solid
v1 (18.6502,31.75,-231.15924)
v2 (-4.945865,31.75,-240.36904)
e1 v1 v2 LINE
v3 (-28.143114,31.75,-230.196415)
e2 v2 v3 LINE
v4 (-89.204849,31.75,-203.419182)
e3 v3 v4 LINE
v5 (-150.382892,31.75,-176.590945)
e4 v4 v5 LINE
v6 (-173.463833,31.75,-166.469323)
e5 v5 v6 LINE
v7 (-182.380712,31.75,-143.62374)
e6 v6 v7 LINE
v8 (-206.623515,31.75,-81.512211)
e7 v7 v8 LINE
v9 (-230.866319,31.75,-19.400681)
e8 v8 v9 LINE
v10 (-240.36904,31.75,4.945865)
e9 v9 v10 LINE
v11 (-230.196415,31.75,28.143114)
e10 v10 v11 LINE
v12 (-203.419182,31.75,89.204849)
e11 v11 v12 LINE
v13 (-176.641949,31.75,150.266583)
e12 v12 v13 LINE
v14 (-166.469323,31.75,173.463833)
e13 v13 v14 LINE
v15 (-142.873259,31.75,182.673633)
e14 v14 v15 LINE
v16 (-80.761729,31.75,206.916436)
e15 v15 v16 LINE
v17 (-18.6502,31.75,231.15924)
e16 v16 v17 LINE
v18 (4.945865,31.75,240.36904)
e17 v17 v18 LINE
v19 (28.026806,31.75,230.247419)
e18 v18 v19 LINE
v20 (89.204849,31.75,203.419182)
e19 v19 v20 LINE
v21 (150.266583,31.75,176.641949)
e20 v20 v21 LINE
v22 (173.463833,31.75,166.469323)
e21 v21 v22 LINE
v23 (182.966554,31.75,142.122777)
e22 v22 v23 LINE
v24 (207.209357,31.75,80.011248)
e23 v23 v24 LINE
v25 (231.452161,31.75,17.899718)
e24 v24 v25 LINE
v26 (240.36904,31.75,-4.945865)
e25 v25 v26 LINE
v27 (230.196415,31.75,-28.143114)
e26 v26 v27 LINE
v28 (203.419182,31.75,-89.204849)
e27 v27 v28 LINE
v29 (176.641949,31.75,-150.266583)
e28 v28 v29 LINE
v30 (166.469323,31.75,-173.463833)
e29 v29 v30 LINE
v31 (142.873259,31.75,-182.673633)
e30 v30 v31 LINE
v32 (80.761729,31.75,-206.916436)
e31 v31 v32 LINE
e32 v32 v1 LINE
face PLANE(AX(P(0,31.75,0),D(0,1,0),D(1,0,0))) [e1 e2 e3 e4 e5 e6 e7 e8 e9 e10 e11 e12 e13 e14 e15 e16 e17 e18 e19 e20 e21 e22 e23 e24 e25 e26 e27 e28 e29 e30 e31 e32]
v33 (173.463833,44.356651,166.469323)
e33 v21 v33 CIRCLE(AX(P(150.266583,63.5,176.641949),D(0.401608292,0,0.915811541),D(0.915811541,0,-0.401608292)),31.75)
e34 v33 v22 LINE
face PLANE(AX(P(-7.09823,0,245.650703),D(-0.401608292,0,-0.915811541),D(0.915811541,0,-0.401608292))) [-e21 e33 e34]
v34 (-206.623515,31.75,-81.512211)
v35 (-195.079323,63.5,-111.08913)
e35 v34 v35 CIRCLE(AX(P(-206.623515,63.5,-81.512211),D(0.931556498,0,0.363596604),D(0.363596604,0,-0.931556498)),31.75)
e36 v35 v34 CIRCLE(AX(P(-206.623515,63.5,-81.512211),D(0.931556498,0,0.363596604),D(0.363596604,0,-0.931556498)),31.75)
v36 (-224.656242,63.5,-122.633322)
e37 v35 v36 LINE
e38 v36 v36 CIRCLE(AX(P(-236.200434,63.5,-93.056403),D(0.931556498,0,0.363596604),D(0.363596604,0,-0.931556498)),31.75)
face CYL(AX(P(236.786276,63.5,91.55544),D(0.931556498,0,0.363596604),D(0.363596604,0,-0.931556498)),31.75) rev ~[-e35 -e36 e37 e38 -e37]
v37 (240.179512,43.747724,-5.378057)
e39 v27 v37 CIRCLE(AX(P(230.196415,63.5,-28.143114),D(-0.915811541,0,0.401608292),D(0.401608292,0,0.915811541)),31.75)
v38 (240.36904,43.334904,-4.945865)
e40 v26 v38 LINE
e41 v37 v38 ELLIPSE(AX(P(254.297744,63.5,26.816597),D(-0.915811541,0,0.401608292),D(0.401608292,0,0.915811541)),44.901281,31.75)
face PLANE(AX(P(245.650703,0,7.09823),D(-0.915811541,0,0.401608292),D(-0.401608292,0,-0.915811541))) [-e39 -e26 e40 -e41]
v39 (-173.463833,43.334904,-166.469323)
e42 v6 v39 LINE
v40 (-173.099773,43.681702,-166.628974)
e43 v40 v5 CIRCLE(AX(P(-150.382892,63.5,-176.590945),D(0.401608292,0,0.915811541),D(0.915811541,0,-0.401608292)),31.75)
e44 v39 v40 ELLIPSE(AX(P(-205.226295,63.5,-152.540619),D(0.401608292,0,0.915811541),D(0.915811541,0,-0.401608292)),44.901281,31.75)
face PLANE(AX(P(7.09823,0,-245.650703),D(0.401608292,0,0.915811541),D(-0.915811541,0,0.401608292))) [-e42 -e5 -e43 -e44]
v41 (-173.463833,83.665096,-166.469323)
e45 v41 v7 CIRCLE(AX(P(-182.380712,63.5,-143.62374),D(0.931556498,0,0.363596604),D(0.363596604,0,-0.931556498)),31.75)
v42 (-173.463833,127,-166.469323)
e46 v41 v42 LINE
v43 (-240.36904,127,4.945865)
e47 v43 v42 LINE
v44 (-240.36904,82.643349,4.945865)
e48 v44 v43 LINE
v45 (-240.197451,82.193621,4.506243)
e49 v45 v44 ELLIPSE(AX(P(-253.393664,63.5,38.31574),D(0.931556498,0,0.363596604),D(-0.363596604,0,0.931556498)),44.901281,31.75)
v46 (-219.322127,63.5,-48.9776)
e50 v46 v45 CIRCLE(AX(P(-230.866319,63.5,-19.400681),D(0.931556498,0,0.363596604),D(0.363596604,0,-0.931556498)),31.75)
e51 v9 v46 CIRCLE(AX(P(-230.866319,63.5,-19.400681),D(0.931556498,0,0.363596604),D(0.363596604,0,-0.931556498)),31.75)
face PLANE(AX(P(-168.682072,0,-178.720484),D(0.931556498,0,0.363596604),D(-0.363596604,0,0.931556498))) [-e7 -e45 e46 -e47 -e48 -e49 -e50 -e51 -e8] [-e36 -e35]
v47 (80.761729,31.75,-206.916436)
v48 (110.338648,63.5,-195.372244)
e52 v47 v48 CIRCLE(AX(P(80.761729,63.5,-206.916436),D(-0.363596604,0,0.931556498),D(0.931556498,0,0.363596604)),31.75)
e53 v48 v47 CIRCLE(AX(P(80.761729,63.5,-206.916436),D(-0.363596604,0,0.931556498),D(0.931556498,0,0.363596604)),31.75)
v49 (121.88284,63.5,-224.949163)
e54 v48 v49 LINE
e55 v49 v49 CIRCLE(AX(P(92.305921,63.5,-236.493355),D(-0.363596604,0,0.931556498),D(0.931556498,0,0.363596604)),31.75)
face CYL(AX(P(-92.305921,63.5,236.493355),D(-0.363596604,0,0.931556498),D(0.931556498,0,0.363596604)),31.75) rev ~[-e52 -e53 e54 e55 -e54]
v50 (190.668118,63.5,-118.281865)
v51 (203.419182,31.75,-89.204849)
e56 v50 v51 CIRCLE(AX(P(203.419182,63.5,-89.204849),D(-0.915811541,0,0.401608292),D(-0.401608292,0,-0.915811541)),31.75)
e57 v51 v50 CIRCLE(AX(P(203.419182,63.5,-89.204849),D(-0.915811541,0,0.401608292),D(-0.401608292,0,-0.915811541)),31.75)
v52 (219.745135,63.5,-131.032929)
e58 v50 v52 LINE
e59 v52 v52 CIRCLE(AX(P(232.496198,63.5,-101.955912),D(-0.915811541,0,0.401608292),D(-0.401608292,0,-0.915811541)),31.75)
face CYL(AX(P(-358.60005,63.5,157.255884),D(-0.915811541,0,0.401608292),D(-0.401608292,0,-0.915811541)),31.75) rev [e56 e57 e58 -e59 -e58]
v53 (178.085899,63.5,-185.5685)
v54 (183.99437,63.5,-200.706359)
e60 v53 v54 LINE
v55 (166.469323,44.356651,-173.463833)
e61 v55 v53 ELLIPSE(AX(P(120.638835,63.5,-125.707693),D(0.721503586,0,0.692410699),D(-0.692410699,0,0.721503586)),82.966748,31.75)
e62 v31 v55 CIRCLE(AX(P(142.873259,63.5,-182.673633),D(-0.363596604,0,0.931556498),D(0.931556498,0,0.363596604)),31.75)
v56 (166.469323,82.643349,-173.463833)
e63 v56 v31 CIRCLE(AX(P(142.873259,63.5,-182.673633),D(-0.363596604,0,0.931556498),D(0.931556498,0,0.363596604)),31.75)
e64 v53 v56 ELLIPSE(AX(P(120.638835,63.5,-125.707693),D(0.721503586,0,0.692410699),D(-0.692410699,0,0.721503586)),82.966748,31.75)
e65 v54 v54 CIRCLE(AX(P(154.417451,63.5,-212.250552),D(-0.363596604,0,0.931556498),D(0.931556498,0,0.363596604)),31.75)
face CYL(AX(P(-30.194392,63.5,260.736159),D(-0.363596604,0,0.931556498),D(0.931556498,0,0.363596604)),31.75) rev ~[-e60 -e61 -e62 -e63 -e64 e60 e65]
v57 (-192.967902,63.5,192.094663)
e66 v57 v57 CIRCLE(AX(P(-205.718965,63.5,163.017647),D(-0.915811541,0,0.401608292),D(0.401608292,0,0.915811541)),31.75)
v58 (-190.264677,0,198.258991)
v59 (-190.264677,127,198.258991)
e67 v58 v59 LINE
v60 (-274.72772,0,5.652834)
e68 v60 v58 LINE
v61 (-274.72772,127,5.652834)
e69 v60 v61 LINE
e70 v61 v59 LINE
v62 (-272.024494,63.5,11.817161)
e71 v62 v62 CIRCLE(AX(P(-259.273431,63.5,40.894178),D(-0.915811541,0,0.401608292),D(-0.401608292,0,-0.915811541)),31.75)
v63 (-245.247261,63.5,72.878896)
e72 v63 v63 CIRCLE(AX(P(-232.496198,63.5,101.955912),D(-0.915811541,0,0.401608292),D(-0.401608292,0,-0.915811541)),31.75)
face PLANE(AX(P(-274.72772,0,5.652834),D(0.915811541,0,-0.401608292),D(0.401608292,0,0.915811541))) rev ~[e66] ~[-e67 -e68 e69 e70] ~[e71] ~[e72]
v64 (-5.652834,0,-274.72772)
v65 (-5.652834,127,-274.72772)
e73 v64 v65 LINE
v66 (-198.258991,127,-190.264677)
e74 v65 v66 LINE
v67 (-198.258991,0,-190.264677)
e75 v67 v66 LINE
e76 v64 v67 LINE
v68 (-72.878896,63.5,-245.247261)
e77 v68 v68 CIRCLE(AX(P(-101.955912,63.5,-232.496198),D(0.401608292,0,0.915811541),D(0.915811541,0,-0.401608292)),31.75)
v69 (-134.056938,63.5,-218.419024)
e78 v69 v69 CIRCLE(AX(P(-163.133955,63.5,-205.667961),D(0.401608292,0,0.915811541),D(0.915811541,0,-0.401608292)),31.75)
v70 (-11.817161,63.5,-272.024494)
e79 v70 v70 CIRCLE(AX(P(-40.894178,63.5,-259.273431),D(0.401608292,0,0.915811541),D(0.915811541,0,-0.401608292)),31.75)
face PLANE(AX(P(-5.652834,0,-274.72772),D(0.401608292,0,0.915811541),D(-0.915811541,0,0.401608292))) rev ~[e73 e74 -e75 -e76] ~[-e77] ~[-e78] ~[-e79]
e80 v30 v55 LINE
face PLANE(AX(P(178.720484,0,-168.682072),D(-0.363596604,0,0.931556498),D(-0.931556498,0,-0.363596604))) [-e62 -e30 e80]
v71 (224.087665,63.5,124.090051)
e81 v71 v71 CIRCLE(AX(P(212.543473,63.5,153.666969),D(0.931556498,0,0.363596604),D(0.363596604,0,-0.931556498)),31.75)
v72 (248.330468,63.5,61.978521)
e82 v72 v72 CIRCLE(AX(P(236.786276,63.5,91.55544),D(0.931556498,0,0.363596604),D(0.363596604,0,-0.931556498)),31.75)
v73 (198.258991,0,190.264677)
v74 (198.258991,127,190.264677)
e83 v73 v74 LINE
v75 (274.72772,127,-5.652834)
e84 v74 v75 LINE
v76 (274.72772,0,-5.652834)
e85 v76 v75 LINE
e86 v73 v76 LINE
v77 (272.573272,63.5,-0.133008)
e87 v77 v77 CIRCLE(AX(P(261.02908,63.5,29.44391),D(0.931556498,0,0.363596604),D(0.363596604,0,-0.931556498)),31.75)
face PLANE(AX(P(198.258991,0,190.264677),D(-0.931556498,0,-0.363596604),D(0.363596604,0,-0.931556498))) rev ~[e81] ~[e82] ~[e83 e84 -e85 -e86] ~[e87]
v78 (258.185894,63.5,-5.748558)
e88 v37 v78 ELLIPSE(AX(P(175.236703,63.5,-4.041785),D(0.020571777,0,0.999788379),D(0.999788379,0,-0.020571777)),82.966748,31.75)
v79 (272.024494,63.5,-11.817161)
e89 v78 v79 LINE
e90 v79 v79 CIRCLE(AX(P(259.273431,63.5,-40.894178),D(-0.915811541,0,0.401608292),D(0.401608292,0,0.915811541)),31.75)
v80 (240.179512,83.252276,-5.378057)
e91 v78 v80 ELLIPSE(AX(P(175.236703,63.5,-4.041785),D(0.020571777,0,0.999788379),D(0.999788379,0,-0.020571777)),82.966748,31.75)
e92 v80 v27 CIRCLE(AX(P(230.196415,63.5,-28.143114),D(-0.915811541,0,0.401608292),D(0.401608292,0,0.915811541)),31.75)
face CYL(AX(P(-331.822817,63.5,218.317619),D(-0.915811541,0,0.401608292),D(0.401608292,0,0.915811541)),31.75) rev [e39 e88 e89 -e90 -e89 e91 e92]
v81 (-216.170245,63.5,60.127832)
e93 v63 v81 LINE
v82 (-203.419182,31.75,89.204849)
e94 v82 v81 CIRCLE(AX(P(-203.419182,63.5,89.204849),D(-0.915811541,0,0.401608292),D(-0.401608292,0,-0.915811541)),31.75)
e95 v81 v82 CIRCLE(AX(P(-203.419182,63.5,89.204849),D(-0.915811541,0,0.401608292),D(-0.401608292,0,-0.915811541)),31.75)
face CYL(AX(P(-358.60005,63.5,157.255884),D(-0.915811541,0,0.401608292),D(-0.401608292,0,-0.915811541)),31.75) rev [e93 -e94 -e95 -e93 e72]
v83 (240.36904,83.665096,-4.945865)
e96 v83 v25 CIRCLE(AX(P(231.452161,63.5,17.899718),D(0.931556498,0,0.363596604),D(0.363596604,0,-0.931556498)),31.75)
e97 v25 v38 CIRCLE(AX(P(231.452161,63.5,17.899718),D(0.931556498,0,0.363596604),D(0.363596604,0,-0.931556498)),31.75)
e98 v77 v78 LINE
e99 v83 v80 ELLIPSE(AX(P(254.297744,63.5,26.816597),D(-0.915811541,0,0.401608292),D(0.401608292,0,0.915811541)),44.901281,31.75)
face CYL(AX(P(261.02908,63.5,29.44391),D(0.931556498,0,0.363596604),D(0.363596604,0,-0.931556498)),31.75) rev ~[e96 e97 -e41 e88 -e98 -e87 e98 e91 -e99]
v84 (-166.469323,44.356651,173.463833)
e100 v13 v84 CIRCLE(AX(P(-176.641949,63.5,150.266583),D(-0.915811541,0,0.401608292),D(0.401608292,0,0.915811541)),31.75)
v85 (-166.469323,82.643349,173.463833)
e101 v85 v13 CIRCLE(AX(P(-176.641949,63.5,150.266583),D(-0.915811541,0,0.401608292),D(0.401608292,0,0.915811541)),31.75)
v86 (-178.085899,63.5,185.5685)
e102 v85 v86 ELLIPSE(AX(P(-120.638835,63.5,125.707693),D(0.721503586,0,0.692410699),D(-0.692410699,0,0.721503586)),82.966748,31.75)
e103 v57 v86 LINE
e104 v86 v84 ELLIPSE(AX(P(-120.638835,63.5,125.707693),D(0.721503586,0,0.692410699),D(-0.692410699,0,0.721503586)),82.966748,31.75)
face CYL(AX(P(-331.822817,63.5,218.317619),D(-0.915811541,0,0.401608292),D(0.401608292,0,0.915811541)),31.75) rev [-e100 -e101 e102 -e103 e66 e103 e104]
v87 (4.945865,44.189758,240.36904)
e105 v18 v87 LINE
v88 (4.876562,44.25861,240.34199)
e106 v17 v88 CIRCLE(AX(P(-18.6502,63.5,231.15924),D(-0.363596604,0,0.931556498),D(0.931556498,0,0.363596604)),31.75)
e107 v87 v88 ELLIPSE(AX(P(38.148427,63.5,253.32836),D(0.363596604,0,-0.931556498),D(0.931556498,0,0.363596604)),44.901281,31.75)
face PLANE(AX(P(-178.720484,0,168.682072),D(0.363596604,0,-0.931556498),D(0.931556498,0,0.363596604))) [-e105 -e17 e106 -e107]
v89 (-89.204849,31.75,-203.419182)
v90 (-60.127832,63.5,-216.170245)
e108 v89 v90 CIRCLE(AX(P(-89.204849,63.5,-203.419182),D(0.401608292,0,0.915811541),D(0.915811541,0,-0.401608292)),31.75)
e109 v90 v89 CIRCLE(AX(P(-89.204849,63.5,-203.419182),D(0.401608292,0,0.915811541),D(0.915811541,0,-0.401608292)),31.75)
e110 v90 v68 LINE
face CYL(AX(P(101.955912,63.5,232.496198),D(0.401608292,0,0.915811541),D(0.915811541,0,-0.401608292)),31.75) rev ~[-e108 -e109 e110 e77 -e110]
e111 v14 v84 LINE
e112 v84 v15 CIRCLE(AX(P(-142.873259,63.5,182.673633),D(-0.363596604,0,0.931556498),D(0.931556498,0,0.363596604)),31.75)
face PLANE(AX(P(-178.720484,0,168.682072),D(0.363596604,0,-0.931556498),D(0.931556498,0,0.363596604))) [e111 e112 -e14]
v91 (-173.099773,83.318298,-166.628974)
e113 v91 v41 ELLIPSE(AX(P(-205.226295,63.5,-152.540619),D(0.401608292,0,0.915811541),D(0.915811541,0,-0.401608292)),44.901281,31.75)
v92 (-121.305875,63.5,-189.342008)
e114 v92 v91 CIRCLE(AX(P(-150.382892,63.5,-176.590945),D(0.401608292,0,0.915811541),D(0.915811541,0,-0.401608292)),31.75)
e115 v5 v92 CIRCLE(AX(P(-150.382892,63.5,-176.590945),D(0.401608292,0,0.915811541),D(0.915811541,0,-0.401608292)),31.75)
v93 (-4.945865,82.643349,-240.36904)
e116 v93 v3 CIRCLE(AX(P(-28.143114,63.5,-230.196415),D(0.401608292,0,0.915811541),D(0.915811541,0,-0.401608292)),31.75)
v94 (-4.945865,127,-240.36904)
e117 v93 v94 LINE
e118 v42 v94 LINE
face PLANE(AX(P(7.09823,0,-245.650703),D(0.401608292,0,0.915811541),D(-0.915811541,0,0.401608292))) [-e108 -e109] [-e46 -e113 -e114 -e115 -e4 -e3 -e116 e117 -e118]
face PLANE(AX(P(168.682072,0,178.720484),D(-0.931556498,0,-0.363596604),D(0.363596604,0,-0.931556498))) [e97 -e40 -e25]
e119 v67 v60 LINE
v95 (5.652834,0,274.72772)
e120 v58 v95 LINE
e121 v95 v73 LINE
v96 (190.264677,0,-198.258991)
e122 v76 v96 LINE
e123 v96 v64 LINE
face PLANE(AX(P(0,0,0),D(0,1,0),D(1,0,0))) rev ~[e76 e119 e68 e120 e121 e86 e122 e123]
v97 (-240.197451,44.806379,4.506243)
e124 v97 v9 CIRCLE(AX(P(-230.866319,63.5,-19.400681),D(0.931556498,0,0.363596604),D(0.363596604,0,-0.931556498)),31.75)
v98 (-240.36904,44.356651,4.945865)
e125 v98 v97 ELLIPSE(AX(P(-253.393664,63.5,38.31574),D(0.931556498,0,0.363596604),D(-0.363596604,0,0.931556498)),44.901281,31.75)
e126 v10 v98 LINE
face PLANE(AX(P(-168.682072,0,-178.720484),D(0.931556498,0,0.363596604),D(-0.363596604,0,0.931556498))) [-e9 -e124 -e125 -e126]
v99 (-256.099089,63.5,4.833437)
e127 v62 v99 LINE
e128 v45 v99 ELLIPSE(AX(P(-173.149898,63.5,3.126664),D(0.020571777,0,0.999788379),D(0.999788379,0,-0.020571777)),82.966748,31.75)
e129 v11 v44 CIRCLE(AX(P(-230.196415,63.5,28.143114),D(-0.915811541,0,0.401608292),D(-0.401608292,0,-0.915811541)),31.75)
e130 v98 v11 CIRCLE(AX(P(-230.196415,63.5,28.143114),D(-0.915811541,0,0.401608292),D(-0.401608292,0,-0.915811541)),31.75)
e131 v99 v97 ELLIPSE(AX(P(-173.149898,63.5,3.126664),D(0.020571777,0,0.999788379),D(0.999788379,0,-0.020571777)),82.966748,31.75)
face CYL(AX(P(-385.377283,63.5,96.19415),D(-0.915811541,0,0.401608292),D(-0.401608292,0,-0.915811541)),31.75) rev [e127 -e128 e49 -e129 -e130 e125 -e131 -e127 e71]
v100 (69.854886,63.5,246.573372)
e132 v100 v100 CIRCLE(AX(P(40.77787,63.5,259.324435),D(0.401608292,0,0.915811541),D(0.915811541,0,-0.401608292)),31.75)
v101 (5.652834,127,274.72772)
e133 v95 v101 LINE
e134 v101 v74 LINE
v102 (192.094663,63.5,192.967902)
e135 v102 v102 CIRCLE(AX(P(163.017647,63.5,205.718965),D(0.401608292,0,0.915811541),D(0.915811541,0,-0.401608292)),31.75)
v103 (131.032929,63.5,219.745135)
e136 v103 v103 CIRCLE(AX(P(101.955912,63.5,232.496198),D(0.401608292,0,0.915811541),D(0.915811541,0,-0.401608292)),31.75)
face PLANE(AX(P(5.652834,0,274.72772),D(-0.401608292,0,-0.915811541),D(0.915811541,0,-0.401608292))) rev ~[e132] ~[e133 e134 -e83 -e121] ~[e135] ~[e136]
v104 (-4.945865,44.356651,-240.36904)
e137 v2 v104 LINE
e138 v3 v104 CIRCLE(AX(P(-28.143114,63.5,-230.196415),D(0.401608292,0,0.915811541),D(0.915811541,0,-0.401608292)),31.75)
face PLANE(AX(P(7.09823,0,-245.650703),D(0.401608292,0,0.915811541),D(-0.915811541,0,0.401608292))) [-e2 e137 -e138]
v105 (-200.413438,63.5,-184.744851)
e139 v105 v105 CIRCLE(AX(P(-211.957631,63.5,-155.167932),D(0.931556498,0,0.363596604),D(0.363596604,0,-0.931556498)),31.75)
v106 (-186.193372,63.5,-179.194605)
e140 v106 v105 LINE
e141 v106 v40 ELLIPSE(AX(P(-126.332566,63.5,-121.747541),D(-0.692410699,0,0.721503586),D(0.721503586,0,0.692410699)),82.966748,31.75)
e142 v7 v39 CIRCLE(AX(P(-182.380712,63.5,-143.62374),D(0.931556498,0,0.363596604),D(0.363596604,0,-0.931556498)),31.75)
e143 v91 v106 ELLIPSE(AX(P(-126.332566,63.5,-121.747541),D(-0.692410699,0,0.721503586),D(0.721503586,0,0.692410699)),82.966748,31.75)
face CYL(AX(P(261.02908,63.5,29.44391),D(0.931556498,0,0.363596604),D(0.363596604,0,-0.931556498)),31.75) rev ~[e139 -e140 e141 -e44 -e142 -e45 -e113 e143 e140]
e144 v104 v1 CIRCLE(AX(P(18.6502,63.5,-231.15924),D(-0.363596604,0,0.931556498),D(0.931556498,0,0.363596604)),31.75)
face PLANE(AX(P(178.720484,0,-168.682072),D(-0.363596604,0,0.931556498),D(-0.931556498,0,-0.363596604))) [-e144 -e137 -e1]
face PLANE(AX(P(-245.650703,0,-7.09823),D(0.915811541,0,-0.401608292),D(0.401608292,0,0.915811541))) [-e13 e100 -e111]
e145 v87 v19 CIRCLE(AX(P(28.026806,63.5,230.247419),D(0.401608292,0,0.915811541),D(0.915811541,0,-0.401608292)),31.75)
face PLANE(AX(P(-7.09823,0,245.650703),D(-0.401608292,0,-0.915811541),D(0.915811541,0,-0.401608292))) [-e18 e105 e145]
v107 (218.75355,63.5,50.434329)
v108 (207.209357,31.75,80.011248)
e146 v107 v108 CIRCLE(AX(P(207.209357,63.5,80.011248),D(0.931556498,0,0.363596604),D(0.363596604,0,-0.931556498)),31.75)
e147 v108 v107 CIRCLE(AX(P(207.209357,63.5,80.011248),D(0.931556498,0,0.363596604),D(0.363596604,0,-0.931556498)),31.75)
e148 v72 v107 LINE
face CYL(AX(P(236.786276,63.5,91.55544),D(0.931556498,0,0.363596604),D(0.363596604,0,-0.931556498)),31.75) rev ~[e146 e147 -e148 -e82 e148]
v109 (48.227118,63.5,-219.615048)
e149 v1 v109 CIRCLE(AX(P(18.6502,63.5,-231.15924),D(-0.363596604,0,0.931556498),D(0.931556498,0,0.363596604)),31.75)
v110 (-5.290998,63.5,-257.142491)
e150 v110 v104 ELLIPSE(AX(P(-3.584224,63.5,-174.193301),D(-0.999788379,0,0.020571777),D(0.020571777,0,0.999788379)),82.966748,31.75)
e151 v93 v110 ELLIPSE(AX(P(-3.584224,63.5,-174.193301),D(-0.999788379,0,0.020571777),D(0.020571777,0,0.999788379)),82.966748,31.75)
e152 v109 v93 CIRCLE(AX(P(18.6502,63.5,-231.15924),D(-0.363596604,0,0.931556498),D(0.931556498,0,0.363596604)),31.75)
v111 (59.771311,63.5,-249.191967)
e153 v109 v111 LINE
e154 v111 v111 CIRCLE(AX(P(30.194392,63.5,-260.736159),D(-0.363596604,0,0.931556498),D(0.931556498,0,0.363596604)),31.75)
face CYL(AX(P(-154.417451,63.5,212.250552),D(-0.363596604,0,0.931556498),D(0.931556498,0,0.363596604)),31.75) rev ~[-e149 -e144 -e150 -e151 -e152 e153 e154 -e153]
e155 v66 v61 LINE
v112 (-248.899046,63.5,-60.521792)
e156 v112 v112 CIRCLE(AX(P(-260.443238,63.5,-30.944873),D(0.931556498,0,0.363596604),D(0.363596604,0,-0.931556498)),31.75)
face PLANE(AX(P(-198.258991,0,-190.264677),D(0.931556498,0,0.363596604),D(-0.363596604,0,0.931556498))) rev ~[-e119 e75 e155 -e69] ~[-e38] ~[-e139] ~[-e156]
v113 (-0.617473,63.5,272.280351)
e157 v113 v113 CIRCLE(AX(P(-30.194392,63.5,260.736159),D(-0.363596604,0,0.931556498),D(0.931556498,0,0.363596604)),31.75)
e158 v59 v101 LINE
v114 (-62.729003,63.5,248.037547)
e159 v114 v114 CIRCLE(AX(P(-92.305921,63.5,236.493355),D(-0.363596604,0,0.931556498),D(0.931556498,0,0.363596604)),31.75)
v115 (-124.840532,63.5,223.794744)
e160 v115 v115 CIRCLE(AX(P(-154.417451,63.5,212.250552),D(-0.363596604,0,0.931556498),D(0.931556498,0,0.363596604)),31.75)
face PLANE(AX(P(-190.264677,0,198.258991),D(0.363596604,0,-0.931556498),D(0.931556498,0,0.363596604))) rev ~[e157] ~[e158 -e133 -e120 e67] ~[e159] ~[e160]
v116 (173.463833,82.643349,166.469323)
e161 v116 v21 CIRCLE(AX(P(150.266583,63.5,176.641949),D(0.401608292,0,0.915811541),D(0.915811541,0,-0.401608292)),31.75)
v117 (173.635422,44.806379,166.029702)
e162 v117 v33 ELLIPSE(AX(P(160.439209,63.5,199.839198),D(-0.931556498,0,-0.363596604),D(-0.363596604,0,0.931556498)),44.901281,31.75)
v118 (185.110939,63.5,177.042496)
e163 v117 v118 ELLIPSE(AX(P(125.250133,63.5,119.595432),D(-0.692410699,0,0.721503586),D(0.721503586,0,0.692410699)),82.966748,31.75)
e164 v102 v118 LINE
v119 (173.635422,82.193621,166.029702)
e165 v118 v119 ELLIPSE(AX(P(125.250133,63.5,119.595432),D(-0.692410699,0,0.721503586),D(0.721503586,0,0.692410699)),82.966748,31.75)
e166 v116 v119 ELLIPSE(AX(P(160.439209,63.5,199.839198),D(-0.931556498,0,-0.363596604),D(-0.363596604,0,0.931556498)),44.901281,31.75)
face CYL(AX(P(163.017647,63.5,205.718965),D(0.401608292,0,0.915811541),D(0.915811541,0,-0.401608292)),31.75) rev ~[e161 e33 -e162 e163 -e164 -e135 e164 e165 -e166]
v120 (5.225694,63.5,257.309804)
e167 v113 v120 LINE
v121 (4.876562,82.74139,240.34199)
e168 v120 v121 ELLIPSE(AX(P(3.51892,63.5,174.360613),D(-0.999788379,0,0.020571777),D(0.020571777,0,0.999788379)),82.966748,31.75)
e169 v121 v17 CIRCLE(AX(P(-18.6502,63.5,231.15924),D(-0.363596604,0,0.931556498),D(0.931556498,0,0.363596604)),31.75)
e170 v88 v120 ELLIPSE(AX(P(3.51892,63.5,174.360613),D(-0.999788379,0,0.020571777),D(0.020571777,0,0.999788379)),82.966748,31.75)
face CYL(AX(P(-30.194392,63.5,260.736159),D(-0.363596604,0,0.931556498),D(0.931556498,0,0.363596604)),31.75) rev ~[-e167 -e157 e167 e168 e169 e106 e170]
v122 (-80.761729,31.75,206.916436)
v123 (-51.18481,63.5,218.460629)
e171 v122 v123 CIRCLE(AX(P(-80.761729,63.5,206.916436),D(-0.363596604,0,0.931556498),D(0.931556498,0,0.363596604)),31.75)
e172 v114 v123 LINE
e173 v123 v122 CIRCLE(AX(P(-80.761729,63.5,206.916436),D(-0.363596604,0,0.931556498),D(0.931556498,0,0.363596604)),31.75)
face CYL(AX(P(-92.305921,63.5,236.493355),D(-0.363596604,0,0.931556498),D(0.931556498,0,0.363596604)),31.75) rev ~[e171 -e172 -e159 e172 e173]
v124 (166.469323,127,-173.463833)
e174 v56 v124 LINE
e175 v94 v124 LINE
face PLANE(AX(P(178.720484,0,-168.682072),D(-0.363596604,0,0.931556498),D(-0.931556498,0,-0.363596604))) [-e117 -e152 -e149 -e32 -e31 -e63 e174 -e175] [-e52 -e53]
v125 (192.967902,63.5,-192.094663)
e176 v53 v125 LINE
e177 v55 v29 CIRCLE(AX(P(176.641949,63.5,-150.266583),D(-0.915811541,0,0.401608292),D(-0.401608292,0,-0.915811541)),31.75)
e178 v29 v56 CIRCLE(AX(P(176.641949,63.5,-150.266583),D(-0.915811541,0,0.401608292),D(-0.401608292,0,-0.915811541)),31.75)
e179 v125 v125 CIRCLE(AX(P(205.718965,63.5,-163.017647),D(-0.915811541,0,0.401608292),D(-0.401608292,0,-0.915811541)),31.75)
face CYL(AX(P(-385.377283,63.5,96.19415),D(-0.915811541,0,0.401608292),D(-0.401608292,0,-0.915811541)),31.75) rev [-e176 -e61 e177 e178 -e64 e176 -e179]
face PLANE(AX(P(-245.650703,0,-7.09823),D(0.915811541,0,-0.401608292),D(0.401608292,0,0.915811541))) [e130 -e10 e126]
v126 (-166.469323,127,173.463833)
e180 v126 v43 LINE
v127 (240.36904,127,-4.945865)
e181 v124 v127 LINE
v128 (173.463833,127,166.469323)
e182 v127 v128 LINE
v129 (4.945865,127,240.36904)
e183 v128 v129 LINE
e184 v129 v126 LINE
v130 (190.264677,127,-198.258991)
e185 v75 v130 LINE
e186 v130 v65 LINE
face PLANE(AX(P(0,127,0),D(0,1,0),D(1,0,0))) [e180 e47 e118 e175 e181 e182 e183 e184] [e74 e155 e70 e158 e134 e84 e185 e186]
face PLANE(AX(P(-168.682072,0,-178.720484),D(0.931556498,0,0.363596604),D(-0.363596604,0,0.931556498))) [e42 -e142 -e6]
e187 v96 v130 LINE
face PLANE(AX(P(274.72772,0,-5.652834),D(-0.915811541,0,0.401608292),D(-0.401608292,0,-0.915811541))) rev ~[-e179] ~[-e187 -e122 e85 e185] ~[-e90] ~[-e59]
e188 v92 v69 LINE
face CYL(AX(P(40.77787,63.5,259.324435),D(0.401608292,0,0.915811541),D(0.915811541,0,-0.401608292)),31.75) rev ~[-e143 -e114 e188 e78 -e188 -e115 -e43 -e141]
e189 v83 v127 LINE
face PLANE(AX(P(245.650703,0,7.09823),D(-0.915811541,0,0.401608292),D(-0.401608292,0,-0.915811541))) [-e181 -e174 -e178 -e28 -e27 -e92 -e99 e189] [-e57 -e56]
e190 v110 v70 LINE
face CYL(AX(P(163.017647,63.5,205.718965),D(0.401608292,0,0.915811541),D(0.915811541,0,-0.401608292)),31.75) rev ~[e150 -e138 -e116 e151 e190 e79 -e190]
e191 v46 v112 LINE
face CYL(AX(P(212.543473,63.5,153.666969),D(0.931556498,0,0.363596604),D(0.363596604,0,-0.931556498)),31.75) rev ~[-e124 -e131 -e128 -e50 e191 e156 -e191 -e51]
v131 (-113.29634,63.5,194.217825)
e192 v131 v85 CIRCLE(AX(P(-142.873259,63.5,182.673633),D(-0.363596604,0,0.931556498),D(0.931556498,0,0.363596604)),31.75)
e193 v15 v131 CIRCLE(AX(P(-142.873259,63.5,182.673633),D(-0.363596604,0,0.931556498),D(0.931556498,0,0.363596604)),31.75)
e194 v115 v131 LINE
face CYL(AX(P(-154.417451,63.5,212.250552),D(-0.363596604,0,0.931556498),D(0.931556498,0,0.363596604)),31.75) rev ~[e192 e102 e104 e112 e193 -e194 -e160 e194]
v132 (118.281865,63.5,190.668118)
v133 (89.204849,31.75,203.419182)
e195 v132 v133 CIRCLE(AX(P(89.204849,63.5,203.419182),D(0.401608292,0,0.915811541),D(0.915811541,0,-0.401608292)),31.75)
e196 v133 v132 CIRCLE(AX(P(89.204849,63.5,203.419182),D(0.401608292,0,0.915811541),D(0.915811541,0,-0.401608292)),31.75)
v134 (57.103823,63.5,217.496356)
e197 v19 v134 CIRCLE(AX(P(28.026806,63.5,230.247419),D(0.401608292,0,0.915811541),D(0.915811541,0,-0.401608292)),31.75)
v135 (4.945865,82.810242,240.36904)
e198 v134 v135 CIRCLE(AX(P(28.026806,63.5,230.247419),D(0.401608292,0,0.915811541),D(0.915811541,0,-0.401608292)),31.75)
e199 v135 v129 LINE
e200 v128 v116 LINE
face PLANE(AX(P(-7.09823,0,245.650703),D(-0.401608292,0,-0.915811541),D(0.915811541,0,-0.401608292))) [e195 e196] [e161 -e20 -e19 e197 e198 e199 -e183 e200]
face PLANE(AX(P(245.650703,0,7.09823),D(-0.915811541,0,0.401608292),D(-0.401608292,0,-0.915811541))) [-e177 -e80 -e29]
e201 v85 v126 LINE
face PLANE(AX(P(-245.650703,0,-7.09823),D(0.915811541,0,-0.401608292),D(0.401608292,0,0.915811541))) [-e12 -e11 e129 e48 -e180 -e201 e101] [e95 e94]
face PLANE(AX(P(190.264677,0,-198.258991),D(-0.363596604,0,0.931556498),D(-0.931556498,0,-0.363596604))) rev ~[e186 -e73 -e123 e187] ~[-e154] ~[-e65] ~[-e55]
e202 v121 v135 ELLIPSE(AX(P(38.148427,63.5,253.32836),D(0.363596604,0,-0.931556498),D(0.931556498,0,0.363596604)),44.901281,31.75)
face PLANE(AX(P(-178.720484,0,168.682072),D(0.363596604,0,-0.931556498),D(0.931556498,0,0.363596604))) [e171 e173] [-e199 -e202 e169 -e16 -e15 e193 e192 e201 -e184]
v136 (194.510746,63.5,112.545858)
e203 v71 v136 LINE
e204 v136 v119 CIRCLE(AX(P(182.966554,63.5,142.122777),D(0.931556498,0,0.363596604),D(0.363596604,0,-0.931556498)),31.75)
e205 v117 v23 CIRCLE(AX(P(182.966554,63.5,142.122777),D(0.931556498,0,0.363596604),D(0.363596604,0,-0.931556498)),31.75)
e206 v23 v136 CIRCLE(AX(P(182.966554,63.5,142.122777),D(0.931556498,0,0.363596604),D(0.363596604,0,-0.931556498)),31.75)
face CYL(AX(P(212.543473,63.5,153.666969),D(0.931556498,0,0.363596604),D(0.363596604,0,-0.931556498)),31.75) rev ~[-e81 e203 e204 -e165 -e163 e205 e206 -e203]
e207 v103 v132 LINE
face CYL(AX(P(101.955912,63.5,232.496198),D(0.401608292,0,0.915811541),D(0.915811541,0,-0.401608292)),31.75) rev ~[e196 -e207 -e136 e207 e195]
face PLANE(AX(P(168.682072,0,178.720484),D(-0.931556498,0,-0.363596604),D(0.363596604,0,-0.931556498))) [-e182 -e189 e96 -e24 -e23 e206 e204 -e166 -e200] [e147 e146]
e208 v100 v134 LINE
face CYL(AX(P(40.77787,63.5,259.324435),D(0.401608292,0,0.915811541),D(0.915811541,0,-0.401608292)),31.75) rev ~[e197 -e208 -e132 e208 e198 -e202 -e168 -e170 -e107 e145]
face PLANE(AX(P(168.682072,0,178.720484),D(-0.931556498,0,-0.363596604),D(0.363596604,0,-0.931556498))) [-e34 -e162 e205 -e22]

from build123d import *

# Parameters (mm, degrees)
BOSS_EXTRUDE1_DEPTH     = 127
SHELL2_T                = -31.75
SKETCH2_R               = 31.75
CUT_EXTRUDE1_DEPTH      = 643.020000528
SKETCH3_R               = 31.75
CUT_EXTRUDE2_DEPTH      = 645.43437317
SKETCH4_R               = 31.75
CUT_EXTRUDE3_DEPTH      = 643.020000528
CUT_EXTRUDE4_DEPTH      = 645.43437317
CUT_EXTRUDE4_DEPTH_BACK = 645.43437317
SKETCH5_R               = 31.75


with BuildPart() as part:
    # Sketch1 → Boss-Extrude1 (new body)
    with BuildSketch(Plane(origin=(0, 0, 0), x_dir=(1, 0, 0), z_dir=(0, 1, 0))):
        Polygon((198.258990648, -190.264676509), (274.727719698, 5.652833739), (190.264676509, 198.258990648), (-5.652833739, 274.727719698), (-198.258990648, 190.264676509), (-274.727719698, -5.652833739), (-190.264676509, -198.258990648), (5.652833739, -274.727719698), align=None)
    extrude(amount=BOSS_EXTRUDE1_DEPTH)

    # Shell2
    shell2_openings = [part.faces().sort_by_distance(p)[0] for p in [
        (0, 127, 0),
    ]]
    offset(amount=SHELL2_T, openings=shell2_openings, kind=Kind.INTERSECTION)

    # Sketch2 → Cut-Extrude1 (cut, through all)
    with BuildSketch(Plane(origin=(-92.305921385, 0, 236.493355173), x_dir=(0.9315564981895357, 0, 0.36359660433074675), z_dir=(-0.36359660433074675, 0, 0.9315564981895357))):
        with Locations((-66.675, 63.5)):
            Circle(SKETCH2_R)
        with Locations((0, 63.5)):
            Circle(SKETCH2_R)
        with Locations((66.675, 63.5)):
            Circle(SKETCH2_R)
    extrude(amount=-CUT_EXTRUDE1_DEPTH, mode=Mode.SUBTRACT)

    # Sketch3 → Cut-Extrude2 (cut, through all)
    with BuildSketch(Plane(origin=(101.955912193, 0, 232.496198103), x_dir=(0.9158115414668875, 0, -0.4016082923895416), z_dir=(0.4016082923895416, 0, 0.9158115414668875))):
        with Locations((-66.802, 63.5)):
            Circle(SKETCH3_R)
        with Locations((0, 63.5)):
            Circle(SKETCH3_R)
        with Locations((66.675, 63.5)):
            Circle(SKETCH3_R)
    extrude(amount=-CUT_EXTRUDE2_DEPTH, mode=Mode.SUBTRACT)

    # Sketch4 → Cut-Extrude3 (cut, through all)
    with BuildSketch(Plane(origin=(236.493355173, 0, 92.305921385), x_dir=(0.3635966043307465, 0, -0.9315564981895359), z_dir=(0.9315564981895358, 0, 0.3635966043307464))):
        with Locations((-65.869378977, 63.5)):
            Circle(SKETCH4_R)
        with Locations((0.805621023, 63.5)):
            Circle(SKETCH4_R)
        with Locations((67.480621023, 63.5)):
            Circle(SKETCH4_R)
    extrude(amount=-CUT_EXTRUDE3_DEPTH, mode=Mode.SUBTRACT)

    # Sketch5 → Cut-Extrude4 (cut, two sides: drawn at the far end of the back side and taken through both)
    with BuildSketch(Plane(origin=(232.496198103, 0, -101.955912193), x_dir=(-0.401608292389542, 0, -0.9158115414668874), z_dir=(0.9158115414668874, 0, -0.401608292389542)).offset(-CUT_EXTRUDE4_DEPTH_BACK)):
        with Locations(Location((-66.675, 63.5, 0), (0, 0, 180))):
            Circle(SKETCH5_R)
        with Locations((0, 63.5)):
            Circle(SKETCH5_R)
        with Locations((66.675, 63.5)):
            Circle(SKETCH5_R)
    extrude(amount=CUT_EXTRUDE4_DEPTH + CUT_EXTRUDE4_DEPTH_BACK, mode=Mode.SUBTRACT)


solid = part.part
